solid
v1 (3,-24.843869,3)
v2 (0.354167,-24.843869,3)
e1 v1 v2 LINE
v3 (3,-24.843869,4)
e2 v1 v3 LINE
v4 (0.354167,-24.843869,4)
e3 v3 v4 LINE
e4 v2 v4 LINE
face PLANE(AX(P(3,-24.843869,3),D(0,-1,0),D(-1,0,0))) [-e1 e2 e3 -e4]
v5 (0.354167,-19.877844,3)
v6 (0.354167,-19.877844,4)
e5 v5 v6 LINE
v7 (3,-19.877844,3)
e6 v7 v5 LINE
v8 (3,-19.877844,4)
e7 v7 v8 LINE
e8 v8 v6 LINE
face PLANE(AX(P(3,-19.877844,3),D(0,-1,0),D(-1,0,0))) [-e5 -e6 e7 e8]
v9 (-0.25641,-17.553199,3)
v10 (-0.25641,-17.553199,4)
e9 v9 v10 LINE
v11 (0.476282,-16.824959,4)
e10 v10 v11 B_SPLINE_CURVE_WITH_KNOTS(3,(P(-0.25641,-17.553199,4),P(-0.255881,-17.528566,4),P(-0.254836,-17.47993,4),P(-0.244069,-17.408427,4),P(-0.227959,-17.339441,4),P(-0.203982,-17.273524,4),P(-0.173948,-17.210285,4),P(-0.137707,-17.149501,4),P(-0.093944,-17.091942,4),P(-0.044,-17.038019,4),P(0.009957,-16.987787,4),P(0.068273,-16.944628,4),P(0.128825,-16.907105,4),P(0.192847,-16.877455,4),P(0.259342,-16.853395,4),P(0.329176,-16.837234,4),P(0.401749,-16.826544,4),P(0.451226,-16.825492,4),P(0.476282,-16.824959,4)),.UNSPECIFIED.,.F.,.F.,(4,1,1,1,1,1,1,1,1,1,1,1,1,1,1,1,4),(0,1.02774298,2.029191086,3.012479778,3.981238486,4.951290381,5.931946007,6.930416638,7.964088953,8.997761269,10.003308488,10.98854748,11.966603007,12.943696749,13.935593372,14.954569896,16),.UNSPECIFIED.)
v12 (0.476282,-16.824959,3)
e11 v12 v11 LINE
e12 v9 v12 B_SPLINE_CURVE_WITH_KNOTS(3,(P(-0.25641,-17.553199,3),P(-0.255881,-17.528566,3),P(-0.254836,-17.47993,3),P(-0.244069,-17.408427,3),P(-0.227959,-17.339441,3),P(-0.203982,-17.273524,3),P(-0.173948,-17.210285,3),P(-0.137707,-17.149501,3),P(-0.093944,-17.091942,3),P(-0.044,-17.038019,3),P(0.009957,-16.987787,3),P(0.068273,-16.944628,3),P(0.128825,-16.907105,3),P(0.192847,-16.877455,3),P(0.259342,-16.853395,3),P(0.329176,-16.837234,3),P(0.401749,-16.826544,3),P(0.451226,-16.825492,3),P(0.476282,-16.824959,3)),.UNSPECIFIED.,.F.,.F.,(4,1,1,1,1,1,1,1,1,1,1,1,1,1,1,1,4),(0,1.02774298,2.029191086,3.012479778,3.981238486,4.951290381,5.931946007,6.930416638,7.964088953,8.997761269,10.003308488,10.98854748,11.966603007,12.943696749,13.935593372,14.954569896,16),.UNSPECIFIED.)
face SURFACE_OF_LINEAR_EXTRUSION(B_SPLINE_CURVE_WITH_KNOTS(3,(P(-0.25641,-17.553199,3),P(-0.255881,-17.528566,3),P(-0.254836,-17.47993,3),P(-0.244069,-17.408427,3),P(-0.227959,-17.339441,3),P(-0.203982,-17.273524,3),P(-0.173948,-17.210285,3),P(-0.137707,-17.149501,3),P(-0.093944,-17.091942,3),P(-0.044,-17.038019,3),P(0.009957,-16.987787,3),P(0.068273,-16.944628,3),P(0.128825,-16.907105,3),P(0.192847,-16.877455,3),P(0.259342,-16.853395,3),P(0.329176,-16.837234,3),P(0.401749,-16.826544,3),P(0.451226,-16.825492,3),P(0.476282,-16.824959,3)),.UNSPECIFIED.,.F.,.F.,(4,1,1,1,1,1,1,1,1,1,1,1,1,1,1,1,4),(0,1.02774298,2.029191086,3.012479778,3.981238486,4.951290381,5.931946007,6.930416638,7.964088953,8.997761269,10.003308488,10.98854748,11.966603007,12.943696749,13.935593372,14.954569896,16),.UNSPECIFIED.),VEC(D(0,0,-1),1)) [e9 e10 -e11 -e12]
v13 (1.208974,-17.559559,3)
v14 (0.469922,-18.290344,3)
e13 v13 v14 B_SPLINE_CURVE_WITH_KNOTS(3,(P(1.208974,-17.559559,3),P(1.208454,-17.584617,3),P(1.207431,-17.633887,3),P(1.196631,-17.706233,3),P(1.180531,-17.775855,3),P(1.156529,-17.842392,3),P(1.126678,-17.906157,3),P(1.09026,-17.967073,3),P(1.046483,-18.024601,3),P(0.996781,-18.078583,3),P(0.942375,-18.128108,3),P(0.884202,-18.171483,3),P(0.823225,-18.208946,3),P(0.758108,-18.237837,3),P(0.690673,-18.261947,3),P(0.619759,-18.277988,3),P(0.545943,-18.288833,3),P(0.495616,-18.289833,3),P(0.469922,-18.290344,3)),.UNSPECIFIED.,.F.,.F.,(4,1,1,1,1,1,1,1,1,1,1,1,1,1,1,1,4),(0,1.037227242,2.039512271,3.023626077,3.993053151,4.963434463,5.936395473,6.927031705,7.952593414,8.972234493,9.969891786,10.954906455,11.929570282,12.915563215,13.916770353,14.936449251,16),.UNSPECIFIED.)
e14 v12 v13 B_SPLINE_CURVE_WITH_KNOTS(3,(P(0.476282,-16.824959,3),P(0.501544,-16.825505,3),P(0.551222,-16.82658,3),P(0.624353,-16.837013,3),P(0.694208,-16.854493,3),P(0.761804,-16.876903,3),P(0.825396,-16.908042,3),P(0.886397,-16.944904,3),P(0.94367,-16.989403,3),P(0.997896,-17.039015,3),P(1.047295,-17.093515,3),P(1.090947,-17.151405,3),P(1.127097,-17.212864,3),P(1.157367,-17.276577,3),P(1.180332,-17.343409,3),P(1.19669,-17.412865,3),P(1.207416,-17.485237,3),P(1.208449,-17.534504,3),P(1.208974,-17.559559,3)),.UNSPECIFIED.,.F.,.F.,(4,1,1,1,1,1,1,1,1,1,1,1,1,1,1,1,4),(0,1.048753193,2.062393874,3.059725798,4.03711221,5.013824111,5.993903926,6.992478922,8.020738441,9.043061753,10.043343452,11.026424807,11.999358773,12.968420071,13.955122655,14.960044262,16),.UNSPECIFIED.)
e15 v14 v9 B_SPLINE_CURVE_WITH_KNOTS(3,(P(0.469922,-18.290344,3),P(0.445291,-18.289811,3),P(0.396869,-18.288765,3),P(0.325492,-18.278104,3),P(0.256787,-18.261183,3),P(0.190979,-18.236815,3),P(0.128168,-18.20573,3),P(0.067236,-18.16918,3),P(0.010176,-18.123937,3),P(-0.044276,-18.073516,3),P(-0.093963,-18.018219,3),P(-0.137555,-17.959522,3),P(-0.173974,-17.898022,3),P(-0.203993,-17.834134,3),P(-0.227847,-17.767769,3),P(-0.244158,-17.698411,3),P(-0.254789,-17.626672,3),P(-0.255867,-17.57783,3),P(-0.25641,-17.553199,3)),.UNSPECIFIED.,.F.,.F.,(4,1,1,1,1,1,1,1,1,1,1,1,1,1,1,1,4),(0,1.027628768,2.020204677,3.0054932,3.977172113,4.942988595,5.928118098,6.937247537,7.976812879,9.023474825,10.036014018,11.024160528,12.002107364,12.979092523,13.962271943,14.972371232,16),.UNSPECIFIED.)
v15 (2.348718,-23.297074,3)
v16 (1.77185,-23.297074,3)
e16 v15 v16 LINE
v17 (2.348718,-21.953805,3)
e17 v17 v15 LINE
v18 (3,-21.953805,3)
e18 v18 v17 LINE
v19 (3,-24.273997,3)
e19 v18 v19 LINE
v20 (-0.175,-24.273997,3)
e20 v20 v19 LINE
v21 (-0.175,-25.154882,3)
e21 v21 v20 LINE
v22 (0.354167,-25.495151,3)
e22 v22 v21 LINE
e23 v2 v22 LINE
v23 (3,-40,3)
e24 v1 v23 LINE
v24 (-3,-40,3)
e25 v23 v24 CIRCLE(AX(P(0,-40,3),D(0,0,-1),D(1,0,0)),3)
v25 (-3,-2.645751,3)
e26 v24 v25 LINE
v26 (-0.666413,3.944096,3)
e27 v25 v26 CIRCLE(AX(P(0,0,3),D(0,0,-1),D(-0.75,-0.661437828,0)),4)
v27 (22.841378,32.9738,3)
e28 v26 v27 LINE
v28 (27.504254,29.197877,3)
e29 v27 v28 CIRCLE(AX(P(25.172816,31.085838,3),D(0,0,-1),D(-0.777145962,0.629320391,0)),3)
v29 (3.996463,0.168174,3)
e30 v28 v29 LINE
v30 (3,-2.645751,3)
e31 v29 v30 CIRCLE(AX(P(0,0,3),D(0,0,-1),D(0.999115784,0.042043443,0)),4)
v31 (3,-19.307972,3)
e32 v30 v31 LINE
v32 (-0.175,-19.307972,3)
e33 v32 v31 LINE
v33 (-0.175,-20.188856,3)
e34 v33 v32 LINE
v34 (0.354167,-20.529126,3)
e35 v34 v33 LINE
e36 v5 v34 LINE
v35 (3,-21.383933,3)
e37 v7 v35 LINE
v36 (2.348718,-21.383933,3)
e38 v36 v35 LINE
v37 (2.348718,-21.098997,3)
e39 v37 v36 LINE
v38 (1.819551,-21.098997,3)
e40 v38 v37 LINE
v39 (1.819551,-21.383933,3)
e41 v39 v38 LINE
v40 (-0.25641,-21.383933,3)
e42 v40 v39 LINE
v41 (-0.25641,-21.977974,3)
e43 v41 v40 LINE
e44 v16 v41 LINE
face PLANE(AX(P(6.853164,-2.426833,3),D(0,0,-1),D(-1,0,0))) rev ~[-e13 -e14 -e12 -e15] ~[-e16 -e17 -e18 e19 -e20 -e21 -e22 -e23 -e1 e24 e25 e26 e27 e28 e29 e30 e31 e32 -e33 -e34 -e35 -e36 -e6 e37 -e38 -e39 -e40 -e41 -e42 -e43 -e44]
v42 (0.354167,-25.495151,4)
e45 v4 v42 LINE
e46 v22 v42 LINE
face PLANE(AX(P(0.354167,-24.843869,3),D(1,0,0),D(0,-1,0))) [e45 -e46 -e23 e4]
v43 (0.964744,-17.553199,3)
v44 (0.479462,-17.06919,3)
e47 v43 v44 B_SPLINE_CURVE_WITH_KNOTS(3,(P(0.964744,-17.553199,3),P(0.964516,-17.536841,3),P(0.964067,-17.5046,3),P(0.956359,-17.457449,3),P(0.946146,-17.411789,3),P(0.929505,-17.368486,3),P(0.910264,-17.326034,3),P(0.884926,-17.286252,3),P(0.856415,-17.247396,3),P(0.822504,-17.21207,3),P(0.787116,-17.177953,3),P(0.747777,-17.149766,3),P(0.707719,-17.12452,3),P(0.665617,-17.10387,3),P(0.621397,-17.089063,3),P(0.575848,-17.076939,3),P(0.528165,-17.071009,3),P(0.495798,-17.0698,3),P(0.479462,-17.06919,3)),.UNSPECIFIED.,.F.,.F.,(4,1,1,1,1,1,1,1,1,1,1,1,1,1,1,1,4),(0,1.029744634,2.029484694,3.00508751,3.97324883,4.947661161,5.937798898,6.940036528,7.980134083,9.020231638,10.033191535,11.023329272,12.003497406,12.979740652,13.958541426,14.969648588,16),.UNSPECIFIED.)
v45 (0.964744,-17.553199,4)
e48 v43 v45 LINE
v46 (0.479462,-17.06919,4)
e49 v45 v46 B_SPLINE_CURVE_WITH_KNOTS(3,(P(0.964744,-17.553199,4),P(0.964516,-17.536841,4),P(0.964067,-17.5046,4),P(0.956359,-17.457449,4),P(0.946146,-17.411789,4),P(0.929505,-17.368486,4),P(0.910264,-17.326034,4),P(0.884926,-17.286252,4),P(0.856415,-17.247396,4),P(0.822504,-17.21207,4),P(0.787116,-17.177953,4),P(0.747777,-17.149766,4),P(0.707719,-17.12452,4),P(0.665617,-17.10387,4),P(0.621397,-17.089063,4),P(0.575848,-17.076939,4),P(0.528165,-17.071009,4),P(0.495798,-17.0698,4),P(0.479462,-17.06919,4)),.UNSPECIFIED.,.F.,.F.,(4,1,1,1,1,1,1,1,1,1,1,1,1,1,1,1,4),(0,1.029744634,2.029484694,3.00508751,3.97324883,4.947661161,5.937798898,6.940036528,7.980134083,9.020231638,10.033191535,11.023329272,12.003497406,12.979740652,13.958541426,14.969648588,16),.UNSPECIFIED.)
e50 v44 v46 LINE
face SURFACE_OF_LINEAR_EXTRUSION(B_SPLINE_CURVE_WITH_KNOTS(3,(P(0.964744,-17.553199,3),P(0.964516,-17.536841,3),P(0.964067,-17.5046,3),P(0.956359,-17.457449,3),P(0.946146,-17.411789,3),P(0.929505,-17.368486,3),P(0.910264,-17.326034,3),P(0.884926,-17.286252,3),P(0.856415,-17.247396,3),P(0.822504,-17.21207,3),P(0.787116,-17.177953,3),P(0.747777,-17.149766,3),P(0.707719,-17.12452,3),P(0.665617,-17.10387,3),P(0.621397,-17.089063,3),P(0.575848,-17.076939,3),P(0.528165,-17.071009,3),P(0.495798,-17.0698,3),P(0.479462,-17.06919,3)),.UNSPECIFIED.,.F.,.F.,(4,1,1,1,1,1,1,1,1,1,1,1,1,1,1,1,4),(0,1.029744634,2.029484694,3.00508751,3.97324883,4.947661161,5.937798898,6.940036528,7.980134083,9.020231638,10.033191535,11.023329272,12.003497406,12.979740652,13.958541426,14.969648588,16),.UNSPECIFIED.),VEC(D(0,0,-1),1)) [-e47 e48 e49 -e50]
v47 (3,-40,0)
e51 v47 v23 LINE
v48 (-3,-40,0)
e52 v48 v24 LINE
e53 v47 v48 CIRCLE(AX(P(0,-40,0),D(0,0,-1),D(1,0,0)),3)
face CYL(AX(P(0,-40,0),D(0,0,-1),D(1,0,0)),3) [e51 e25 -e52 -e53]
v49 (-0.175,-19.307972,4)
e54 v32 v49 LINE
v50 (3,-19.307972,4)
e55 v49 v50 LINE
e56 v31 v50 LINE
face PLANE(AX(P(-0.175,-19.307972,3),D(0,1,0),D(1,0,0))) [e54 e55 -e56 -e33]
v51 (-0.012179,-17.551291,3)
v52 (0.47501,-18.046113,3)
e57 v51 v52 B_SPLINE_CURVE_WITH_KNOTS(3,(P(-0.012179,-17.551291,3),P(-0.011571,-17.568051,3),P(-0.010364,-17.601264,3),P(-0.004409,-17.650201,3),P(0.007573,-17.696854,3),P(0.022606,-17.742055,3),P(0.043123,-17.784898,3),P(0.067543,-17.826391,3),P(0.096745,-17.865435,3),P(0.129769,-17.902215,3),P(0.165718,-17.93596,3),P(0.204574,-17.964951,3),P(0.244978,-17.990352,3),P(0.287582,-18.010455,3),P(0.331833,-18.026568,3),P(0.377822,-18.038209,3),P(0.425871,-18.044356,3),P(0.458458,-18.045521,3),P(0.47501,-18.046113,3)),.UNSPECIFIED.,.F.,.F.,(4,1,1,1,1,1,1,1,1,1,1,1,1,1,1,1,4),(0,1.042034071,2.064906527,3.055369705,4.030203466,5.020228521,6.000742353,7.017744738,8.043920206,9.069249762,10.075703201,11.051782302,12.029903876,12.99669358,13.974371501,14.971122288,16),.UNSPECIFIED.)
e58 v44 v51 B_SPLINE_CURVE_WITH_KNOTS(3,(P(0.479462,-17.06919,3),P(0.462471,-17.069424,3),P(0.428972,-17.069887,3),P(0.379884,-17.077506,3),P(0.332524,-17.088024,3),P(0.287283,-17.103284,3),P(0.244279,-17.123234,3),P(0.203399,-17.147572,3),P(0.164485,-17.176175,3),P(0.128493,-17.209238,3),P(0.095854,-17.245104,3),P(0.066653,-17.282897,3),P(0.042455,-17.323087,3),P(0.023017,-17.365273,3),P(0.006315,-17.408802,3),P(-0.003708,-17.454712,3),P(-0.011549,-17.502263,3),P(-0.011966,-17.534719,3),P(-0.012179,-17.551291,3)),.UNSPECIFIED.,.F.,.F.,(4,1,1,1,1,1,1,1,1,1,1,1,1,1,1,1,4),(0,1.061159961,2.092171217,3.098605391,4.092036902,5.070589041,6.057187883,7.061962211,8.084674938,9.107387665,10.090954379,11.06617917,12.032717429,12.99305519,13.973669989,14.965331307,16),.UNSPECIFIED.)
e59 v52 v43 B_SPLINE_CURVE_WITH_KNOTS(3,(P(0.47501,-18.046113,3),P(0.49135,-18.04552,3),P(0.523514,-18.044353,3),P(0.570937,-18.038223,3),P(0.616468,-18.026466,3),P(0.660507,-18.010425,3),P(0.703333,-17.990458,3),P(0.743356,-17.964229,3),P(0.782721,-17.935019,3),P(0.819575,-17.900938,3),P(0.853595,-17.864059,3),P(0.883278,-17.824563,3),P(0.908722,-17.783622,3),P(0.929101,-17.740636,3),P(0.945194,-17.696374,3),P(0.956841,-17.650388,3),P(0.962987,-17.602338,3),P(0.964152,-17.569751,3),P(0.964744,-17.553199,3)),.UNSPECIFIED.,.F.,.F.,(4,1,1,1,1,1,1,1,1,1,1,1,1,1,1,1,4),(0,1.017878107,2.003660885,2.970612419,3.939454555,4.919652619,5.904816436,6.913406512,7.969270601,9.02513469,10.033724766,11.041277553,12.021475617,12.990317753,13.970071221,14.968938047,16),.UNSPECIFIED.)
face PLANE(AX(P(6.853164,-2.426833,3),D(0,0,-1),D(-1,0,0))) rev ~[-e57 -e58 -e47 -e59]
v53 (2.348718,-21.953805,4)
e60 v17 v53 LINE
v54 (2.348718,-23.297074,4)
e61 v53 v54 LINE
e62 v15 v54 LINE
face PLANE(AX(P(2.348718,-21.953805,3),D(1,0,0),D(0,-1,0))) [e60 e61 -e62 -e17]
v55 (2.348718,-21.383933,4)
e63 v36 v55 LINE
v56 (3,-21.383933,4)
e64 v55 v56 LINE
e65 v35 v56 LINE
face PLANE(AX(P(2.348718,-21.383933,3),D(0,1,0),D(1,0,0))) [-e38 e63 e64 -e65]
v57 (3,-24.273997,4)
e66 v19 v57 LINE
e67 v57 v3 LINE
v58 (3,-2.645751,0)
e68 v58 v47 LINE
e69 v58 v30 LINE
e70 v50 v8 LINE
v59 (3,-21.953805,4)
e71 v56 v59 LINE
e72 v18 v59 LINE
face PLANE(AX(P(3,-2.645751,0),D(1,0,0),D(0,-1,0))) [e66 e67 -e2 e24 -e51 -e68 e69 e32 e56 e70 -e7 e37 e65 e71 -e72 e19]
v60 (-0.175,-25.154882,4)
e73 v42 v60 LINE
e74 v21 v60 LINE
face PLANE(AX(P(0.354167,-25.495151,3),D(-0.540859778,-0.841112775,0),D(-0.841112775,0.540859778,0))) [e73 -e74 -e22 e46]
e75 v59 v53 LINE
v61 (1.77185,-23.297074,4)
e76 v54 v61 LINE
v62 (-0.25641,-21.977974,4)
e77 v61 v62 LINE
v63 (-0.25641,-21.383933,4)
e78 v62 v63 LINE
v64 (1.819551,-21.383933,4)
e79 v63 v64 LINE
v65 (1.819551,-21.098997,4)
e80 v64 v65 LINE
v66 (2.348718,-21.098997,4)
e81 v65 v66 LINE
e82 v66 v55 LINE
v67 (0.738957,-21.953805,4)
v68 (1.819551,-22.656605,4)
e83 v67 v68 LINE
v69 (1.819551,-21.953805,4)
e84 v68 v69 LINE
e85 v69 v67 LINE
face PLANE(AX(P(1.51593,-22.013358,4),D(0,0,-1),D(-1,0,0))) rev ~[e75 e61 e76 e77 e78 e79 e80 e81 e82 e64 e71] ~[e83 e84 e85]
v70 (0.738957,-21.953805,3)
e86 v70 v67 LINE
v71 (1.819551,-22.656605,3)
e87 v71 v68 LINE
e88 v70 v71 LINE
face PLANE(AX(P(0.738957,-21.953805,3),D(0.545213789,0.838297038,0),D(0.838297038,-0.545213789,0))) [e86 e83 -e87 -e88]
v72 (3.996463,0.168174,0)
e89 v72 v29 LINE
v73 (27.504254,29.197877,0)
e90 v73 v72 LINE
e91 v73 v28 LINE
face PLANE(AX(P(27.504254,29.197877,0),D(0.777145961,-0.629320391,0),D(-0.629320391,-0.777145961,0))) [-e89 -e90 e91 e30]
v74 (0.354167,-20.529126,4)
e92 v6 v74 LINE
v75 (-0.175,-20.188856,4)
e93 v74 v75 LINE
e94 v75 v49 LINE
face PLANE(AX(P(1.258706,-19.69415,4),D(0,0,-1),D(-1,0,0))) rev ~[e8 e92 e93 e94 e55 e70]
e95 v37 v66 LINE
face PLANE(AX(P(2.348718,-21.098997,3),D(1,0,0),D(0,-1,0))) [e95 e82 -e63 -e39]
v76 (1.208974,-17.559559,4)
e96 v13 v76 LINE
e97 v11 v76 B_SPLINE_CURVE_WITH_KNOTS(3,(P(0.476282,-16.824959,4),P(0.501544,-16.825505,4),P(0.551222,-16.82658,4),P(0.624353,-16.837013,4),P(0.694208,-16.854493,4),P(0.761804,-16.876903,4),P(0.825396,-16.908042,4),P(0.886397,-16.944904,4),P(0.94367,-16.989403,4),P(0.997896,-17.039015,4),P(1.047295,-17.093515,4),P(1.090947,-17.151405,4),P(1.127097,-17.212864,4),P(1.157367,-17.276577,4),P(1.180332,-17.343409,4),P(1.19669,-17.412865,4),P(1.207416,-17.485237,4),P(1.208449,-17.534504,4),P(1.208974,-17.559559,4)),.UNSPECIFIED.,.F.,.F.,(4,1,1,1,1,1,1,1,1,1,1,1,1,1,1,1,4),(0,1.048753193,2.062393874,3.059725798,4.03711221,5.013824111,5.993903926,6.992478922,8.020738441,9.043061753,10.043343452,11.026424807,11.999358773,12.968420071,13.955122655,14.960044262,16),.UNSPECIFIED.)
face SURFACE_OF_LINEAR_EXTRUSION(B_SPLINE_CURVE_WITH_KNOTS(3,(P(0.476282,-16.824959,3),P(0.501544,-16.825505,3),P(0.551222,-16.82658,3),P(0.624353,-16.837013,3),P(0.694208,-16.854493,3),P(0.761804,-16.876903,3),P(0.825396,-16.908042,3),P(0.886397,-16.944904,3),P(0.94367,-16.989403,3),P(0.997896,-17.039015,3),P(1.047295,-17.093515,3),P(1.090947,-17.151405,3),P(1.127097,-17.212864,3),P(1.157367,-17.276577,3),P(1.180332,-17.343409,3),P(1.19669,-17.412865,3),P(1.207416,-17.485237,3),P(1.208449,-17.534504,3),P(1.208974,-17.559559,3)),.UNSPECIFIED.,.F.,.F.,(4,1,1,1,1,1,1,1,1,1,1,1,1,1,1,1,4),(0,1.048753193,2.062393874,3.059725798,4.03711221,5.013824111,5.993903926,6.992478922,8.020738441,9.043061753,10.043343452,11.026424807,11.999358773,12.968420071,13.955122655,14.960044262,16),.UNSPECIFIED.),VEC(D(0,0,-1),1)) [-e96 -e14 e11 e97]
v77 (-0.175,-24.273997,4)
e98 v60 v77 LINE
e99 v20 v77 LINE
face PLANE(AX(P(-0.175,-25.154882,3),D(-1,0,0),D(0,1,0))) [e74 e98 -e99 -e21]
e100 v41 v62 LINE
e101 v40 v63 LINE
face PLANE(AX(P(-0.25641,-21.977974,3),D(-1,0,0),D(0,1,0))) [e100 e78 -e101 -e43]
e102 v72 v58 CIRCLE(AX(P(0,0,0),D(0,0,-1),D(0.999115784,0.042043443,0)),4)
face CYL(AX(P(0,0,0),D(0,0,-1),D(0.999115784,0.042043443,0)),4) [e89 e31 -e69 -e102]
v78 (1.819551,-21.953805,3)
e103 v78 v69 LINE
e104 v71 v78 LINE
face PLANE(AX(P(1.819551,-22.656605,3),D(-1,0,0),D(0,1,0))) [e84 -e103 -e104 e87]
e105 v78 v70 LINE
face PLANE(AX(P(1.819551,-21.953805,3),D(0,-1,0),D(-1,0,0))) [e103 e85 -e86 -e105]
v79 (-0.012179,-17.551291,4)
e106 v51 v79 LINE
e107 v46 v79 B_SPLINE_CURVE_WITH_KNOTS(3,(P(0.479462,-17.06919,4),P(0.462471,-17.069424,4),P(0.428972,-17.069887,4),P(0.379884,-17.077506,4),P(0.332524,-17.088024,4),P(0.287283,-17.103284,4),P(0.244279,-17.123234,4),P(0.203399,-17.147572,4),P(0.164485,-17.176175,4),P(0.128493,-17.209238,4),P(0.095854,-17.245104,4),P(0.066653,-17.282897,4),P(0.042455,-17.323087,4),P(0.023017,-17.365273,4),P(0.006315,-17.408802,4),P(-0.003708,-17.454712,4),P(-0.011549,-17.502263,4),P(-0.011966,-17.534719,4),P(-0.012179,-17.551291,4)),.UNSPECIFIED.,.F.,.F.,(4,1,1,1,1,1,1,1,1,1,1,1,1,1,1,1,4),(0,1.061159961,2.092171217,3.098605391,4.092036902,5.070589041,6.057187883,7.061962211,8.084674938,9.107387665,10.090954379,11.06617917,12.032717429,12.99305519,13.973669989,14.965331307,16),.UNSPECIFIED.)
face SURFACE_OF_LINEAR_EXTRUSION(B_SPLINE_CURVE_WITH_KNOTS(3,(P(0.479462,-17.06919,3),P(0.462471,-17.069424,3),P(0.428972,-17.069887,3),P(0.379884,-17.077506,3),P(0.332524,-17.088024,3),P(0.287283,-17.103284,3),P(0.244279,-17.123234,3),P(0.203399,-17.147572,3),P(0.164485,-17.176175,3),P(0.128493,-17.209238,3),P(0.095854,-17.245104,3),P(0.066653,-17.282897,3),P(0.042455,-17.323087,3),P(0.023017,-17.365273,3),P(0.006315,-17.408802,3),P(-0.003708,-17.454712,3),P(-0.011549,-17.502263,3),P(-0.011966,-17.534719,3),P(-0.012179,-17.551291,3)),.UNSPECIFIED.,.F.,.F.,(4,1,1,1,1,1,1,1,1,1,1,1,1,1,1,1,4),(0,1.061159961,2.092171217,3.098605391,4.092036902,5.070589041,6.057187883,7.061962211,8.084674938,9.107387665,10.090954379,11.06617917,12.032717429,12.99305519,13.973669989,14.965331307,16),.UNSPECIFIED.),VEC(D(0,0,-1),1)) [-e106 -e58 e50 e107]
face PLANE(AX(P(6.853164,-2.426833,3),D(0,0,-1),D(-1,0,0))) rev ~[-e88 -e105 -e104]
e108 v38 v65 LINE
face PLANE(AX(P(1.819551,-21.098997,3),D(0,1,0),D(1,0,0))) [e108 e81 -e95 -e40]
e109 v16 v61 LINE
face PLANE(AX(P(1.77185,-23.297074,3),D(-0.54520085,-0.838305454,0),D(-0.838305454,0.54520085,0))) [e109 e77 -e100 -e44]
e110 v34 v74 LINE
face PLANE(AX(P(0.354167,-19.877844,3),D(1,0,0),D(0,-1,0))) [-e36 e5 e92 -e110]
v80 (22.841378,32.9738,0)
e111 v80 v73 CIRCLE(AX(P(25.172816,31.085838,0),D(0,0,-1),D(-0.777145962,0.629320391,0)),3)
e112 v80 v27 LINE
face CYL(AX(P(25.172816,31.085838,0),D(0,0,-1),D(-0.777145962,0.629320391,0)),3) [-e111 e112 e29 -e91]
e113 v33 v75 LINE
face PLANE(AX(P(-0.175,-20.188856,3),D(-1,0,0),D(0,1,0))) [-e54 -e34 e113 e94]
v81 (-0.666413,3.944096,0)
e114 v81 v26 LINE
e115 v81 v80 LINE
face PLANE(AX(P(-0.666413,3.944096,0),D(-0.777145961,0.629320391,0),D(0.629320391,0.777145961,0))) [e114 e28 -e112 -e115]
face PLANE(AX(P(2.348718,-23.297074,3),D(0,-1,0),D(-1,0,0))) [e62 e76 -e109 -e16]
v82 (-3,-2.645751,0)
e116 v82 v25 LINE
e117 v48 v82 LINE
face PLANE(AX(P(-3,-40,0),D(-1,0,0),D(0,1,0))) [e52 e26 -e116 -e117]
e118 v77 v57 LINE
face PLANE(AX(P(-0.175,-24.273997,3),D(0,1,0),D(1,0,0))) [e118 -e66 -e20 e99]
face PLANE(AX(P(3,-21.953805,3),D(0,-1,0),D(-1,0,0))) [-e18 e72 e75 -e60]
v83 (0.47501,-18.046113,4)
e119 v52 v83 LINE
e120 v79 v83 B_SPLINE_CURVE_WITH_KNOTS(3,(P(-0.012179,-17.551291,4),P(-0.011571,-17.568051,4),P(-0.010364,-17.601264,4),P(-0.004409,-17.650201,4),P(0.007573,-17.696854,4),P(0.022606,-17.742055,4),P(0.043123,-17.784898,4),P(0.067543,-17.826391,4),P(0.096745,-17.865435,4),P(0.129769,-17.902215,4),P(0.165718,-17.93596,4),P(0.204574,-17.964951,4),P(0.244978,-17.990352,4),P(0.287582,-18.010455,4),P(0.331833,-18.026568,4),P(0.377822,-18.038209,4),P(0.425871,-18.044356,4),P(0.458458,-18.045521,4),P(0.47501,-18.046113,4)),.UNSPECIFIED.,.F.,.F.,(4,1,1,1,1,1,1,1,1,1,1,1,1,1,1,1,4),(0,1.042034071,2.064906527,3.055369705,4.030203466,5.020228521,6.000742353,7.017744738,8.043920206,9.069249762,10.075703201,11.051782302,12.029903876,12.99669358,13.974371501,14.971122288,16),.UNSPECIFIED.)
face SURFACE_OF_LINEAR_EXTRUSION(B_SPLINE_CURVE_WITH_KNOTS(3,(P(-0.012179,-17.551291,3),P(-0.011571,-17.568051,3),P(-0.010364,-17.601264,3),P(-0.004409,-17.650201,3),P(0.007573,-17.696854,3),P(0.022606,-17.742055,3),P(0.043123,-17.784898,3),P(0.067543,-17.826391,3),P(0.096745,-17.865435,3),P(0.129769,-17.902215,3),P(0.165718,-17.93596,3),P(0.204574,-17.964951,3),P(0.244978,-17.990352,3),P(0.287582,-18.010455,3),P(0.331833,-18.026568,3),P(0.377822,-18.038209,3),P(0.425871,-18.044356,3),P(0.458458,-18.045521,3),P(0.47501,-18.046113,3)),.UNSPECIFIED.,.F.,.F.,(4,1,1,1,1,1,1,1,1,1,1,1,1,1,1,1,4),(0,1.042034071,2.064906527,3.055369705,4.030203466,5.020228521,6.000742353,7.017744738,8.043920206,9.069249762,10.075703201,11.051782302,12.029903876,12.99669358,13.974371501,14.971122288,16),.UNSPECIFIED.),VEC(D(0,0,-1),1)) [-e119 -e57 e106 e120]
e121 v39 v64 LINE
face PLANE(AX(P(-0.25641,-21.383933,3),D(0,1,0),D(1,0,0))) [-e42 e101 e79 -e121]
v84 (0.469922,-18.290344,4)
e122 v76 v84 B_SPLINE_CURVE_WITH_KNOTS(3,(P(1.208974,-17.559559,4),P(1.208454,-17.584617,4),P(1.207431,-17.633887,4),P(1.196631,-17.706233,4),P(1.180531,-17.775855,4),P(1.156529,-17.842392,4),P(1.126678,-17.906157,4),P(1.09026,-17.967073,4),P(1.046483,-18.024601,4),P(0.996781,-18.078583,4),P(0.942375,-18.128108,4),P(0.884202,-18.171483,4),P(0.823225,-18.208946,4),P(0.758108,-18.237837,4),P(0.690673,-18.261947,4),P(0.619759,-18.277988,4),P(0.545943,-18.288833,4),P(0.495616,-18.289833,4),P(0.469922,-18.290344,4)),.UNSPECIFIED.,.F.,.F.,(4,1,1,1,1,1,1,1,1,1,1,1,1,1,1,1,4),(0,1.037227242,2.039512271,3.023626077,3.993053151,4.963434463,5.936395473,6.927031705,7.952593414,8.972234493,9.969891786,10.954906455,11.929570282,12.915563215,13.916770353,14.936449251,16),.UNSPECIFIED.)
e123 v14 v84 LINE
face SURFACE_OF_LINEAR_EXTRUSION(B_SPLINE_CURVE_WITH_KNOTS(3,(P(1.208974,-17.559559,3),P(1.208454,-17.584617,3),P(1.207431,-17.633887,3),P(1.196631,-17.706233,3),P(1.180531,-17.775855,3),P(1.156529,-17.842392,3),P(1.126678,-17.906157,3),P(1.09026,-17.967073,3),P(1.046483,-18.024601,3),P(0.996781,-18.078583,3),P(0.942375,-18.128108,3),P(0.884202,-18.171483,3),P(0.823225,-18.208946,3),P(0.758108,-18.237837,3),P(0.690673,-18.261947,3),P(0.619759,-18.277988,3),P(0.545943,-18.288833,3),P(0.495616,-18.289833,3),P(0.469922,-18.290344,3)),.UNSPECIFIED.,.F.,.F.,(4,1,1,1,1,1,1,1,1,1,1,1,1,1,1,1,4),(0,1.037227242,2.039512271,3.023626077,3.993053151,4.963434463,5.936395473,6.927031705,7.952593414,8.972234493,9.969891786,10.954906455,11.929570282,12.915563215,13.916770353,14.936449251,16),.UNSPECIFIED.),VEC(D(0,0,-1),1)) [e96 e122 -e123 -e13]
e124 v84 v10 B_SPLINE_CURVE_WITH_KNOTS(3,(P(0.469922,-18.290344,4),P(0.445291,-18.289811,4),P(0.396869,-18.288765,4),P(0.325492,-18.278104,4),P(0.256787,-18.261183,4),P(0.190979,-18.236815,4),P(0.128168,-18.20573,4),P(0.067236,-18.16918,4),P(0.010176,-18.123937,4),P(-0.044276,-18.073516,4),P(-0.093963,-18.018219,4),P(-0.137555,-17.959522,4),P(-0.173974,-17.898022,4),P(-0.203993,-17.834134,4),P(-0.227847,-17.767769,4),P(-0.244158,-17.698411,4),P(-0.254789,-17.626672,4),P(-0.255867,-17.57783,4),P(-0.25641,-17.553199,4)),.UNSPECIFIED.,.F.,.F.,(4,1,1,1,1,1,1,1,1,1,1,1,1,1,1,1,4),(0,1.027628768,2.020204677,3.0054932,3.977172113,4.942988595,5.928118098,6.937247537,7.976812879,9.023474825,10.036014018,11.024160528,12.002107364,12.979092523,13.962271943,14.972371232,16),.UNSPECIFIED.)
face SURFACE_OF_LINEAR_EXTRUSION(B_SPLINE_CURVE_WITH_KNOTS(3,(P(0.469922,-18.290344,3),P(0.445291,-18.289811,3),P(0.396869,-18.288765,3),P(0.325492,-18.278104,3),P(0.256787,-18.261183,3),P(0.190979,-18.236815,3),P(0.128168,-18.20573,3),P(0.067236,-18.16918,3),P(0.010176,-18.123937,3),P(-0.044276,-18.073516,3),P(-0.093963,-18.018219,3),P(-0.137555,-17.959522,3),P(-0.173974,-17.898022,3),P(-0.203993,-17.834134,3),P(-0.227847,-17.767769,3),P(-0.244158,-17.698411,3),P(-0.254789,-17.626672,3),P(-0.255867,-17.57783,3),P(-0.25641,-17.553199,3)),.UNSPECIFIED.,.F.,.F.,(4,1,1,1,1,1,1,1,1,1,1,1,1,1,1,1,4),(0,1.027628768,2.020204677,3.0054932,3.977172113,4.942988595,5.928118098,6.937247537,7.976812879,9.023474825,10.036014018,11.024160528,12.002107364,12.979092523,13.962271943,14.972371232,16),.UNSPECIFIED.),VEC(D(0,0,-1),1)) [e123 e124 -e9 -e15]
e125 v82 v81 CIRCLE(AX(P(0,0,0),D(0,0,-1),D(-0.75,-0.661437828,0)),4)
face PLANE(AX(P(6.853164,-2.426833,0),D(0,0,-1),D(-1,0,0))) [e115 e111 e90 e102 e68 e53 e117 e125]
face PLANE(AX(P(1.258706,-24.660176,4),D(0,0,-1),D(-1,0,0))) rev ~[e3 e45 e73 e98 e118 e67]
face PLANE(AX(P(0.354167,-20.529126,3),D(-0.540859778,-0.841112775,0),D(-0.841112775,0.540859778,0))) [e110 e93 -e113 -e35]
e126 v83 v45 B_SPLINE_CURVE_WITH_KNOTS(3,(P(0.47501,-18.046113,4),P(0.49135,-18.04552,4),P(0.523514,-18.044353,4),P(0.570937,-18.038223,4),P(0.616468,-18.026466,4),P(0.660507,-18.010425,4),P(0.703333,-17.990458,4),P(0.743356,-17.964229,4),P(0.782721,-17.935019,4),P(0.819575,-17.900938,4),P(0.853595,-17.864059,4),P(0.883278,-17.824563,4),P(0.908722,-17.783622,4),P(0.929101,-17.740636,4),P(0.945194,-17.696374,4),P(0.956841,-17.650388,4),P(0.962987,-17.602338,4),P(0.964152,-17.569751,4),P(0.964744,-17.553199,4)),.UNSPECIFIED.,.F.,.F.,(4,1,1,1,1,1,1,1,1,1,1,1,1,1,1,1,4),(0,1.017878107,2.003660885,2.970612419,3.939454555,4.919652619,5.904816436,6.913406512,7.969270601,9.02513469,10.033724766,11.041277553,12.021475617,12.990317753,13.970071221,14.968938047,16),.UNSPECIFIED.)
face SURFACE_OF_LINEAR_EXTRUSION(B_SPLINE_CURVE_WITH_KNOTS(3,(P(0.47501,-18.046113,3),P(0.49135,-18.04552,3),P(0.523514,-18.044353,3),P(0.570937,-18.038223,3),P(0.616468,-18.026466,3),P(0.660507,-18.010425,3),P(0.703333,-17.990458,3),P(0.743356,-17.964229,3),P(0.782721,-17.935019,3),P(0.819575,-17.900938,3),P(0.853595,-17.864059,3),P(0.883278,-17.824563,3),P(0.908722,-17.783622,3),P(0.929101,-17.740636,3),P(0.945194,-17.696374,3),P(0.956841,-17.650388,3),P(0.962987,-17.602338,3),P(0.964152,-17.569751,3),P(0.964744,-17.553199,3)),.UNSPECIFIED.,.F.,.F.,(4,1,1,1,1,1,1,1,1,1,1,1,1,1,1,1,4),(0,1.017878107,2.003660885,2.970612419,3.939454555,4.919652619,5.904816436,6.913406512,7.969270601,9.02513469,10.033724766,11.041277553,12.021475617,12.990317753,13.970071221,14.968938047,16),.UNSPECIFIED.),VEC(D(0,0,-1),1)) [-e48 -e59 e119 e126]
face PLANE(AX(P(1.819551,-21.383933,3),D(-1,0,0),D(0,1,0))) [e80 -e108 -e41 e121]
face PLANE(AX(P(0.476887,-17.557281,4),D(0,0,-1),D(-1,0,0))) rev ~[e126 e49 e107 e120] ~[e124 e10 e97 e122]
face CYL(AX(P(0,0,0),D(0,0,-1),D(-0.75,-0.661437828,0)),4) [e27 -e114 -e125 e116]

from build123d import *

# Parameters (mm, degrees)
BOSS_EXTRUDE1_DEPTH = 3
BOSS_EXTRUDE2_DEPTH = 1


with BuildPart() as part:
    # Sketch2 → Boss-Extrude1 (new body)
    with BuildSketch(Plane.XY):
        with BuildLine():
            Line((-3, -40), (-3, -2.645751311))
            ThreePointArc((-3, -2.645751311), (-3.770565964, 1.335227437), (-0.666412635, 3.94409612))
            Line((-0.666412635, 3.94409612), (22.841377758, 32.973799631))
            ThreePointArc((22.841377758, 32.973799631), (27.060776815, 33.417276343), (27.504253526, 29.197877285))
            Line((27.504253526, 29.197877285), (3.996463134, 0.168173773))
            ThreePointArc((3.996463134, 0.168173773), (3.770565964, -1.335227437), (3, -2.645751311))
            Line((3, -2.645751311), (3, -40))
            ThreePointArc((3, -40), (0, -43), (-3, -40))
        make_face()
    extrude(amount=BOSS_EXTRUDE1_DEPTH)

    # Sketch3 → Boss-Extrude2 (add)
    # profile 1 of 4: a face of its own
    with BuildSketch(Plane.XY.offset(3)):
        Polygon((-0.175, -25.154881865), (-0.175, -24.27399745), (3, -24.27399745), (3, -24.843869245), (0.354166667, -24.843869245), (0.354166667, -25.495151297), align=None)
    # profile 2 of 4: a face of its own
    with BuildSketch(Plane.XY.offset(3)):
        Polygon((-0.256410256, -21.977973813), (-0.256410256, -21.383933348), (1.819551282, -21.383933348), (1.819551282, -21.09899745), (2.348717949, -21.09899745), (2.348717949, -21.383933348), (3, -21.383933348), (3, -21.953805143), (2.348717949, -21.953805143), (2.348717949, -23.297074373), (1.77184996, -23.297074373), align=None)
        Polygon((1.819551282, -21.953805143), (0.738957332, -21.953805143), (1.819551282, -22.656604622), align=None, mode=Mode.SUBTRACT)
    # profile 3 of 4: a face of its own
    with BuildSketch(Plane.XY.offset(3)):
        Polygon((-0.175, -20.188856224), (-0.175, -19.307971809), (3, -19.307971809), (3, -19.877843604), (0.354166667, -19.877843604), (0.354166667, -20.529125656), align=None)
    # profile 4 of 4: a face of its own
    with BuildSketch(Plane.XY.offset(3)):
        with BuildLine():
            add(Edge.make_bspline(
                [(0.476282051, -16.824958989), (0.501543872, -16.825505484), (0.55122174, -16.826580176), (0.624352745, -16.837013476), (0.694208258, -16.854492691), (0.761803607, -16.876903338), (0.825395964, -16.908042089), (0.886396731, -16.944903837), (0.943669883, -16.989402672), (0.9978957, -17.039014969), (1.047295391, -17.093515132), (1.090947065, -17.151405488), (1.127096601, -17.212864468), (1.157366856, -17.276577248), (1.180332148, -17.343408663), (1.196689885, -17.412864586), (1.20741609, -17.485236986), (1.208449037, -17.534503871), (1.208974359, -17.559559349)],
                knots=[0, 0, 0, 0, 1.048753193, 2.062393874, 3.059725798, 4.03711221, 5.013824111, 5.993903926, 6.992478922, 8.020738441, 9.043061753, 10.043343452, 11.026424807, 11.999358773, 12.968420071, 13.955122655, 14.960044262, 16, 16, 16, 16], degree=3))
            add(Edge.make_bspline(
                [(1.208974359, -17.559559349), (1.208454225, -17.584616682), (1.207431478, -17.633887214), (1.196631189, -17.706233128), (1.180530583, -17.775855144), (1.156529218, -17.842391691), (1.126678292, -17.90615653), (1.090260147, -17.967072817), (1.046482503, -18.024600993), (0.996781055, -18.078582797), (0.942375086, -18.128107638), (0.88420218, -18.171482912), (0.823225465, -18.208946116), (0.758107997, -18.237837437), (0.69067286, -18.261947038), (0.619758864, -18.27798784), (0.545943315, -18.288833106), (0.495615647, -18.289833085), (0.469921875, -18.290343604)],
                knots=[0, 0, 0, 0, 1.037227242, 2.039512271, 3.023626077, 3.993053151, 4.963434463, 5.936395473, 6.927031705, 7.952593414, 8.972234493, 9.969891786, 10.954906455, 11.929570282, 12.915563215, 13.916770353, 14.936449251, 16, 16, 16, 16], degree=3))
            add(Edge.make_bspline(
                [(0.469921875, -18.290343604), (0.445290866, -18.289811451), (0.396869022, -18.288765297), (0.325492116, -18.278103661), (0.256787066, -18.261182775), (0.190979117, -18.23681523), (0.128167681, -18.205730248), (0.067236284, -18.169180135), (0.010175979, -18.123937412), (-0.044275745, -18.073515722), (-0.093962638, -18.018218509), (-0.137555056, -17.95952238), (-0.173973759, -17.89802202), (-0.203993097, -17.834134423), (-0.227847104, -17.767768562), (-0.244158222, -17.698411219), (-0.254789074, -17.626671533), (-0.255866772, -17.577830012), (-0.256410256, -17.553199173)],
                knots=[0, 0, 0, 0, 1.027628768, 2.020204677, 3.0054932, 3.977172113, 4.942988595, 5.928118098, 6.937247537, 7.976812879, 9.023474825, 10.036014018, 11.024160528, 12.002107364, 12.979092523, 13.962271943, 14.972371232, 16, 16, 16, 16], degree=3))
            add(Edge.make_bspline(
                [(-0.256410256, -17.553199173), (-0.255881051, -17.528566172), (-0.254836181, -17.479930408), (-0.244068832, -17.408427146), (-0.227959354, -17.339440503), (-0.203981879, -17.27352423), (-0.173948227, -17.210285117), (-0.137706982, -17.149501332), (-0.093944483, -17.091941849), (-0.043999627, -17.038019265), (0.009956511, -16.987787182), (0.068273488, -16.944627592), (0.128824771, -16.907104674), (0.192846684, -16.877455064), (0.259342082, -16.853394895), (0.329176204, -16.837233977), (0.401748506, -16.826543556), (0.451226198, -16.825491671), (0.476282051, -16.824958989)],
                knots=[0, 0, 0, 0, 1.02774298, 2.029191086, 3.012479778, 3.981238486, 4.951290381, 5.931946007, 6.930416638, 7.964088953, 8.997761269, 10.003308488, 10.98854748, 11.966603007, 12.943696749, 13.935593372, 14.954569896, 16, 16, 16, 16], degree=3))
        make_face()
        with BuildLine():
            add(Edge.make_bspline(
                [(0.479462139, -17.069189758), (0.462471258, -17.069424264), (0.428972226, -17.069886612), (0.379883793, -17.077505977), (0.332524379, -17.088023775), (0.287283463, -17.10328392), (0.24427911, -17.123234284), (0.203398935, -17.147571829), (0.164484674, -17.176174899), (0.128492582, -17.209237523), (0.095853701, -17.245103846), (0.066652511, -17.282897251), (0.042455186, -17.323086522), (0.023016589, -17.365273093), (0.006315159, -17.408801858), (-0.003707976, -17.454711924), (-0.01154919, -17.502263298), (-0.011966436, -17.534718897), (-0.012179487, -17.55129112)],
                knots=[0, 0, 0, 0, 1.061159961, 2.092171217, 3.098605391, 4.092036902, 5.070589041, 6.057187883, 7.061962211, 8.084674938, 9.107387665, 10.090954379, 11.06617917, 12.032717429, 12.99305519, 13.973669989, 14.965331307, 16, 16, 16, 16], degree=3))
            add(Edge.make_bspline(
                [(-0.012179487, -17.55129112), (-0.01157068, -17.568051412), (-0.01036426, -17.601263796), (-0.004409395, -17.650200831), (0.007572839, -17.69685371), (0.022606002, -17.742054962), (0.043122897, -17.784898142), (0.067542797, -17.826391236), (0.096744971, -17.865435361), (0.129769422, -17.902214665), (0.165718261, -17.935960463), (0.204573602, -17.964950546), (0.244977971, -17.990352408), (0.287582445, -18.010455361), (0.331832846, -18.026567734), (0.377821945, -18.038209426), (0.425871214, -18.044356322), (0.458458137, -18.045521173), (0.475010016, -18.046112835)],
                knots=[0, 0, 0, 0, 1.042034071, 2.064906527, 3.055369705, 4.030203466, 5.020228521, 6.000742353, 7.017744738, 8.043920206, 9.069249762, 10.075703201, 11.051782302, 12.029903876, 12.99669358, 13.974371501, 14.971122288, 16, 16, 16, 16], degree=3))
            add(Edge.make_bspline(
                [(0.475010016, -18.046112835), (0.491349767, -18.045520146), (0.523514051, -18.044353455), (0.570936909, -18.038223162), (0.616468237, -18.026465839), (0.660506807, -18.010425399), (0.703332854, -17.990458383), (0.743356347, -17.964229259), (0.782721478, -17.935019181), (0.819574977, -17.900938323), (0.853594861, -17.864058718), (0.883277913, -17.824563201), (0.908722399, -17.783622403), (0.929101491, -17.740636346), (0.945194342, -17.696373754), (0.956841315, -17.650387952), (0.962986781, -17.60233779), (0.964151827, -17.56975099), (0.96474359, -17.553199173)],
                knots=[0, 0, 0, 0, 1.017878107, 2.003660885, 2.970612419, 3.939454555, 4.919652619, 5.904816436, 6.913406512, 7.969270601, 9.02513469, 10.033724766, 11.041277553, 12.021475617, 12.990317753, 13.970071221, 14.968938047, 16, 16, 16, 16], degree=3))
            add(Edge.make_bspline(
                [(0.96474359, -17.553199173), (0.964515736, -17.536840687), (0.964066668, -17.504600367), (0.956359019, -17.457448889), (0.946146284, -17.411789288), (0.929505189, -17.368485652), (0.910263551, -17.326033898), (0.884925795, -17.286252494), (0.856415485, -17.247396305), (0.822504018, -17.212069657), (0.787116244, -17.177952839), (0.747777121, -17.149765554), (0.707718654, -17.124520148), (0.665616684, -17.10387006), (0.621397497, -17.089062601), (0.575848465, -17.07693948), (0.528165265, -17.071009446), (0.49579822, -17.069800121), (0.479462139, -17.069189758)],
                knots=[0, 0, 0, 0, 1.029744634, 2.029484694, 3.00508751, 3.97324883, 4.947661161, 5.937798898, 6.940036528, 7.980134083, 9.020231638, 10.033191535, 11.023329272, 12.003497406, 12.979740652, 13.958541426, 14.969648588, 16, 16, 16, 16], degree=3))
        make_face(mode=Mode.SUBTRACT)
    extrude(amount=BOSS_EXTRUDE2_DEPTH)


solid = part.part
